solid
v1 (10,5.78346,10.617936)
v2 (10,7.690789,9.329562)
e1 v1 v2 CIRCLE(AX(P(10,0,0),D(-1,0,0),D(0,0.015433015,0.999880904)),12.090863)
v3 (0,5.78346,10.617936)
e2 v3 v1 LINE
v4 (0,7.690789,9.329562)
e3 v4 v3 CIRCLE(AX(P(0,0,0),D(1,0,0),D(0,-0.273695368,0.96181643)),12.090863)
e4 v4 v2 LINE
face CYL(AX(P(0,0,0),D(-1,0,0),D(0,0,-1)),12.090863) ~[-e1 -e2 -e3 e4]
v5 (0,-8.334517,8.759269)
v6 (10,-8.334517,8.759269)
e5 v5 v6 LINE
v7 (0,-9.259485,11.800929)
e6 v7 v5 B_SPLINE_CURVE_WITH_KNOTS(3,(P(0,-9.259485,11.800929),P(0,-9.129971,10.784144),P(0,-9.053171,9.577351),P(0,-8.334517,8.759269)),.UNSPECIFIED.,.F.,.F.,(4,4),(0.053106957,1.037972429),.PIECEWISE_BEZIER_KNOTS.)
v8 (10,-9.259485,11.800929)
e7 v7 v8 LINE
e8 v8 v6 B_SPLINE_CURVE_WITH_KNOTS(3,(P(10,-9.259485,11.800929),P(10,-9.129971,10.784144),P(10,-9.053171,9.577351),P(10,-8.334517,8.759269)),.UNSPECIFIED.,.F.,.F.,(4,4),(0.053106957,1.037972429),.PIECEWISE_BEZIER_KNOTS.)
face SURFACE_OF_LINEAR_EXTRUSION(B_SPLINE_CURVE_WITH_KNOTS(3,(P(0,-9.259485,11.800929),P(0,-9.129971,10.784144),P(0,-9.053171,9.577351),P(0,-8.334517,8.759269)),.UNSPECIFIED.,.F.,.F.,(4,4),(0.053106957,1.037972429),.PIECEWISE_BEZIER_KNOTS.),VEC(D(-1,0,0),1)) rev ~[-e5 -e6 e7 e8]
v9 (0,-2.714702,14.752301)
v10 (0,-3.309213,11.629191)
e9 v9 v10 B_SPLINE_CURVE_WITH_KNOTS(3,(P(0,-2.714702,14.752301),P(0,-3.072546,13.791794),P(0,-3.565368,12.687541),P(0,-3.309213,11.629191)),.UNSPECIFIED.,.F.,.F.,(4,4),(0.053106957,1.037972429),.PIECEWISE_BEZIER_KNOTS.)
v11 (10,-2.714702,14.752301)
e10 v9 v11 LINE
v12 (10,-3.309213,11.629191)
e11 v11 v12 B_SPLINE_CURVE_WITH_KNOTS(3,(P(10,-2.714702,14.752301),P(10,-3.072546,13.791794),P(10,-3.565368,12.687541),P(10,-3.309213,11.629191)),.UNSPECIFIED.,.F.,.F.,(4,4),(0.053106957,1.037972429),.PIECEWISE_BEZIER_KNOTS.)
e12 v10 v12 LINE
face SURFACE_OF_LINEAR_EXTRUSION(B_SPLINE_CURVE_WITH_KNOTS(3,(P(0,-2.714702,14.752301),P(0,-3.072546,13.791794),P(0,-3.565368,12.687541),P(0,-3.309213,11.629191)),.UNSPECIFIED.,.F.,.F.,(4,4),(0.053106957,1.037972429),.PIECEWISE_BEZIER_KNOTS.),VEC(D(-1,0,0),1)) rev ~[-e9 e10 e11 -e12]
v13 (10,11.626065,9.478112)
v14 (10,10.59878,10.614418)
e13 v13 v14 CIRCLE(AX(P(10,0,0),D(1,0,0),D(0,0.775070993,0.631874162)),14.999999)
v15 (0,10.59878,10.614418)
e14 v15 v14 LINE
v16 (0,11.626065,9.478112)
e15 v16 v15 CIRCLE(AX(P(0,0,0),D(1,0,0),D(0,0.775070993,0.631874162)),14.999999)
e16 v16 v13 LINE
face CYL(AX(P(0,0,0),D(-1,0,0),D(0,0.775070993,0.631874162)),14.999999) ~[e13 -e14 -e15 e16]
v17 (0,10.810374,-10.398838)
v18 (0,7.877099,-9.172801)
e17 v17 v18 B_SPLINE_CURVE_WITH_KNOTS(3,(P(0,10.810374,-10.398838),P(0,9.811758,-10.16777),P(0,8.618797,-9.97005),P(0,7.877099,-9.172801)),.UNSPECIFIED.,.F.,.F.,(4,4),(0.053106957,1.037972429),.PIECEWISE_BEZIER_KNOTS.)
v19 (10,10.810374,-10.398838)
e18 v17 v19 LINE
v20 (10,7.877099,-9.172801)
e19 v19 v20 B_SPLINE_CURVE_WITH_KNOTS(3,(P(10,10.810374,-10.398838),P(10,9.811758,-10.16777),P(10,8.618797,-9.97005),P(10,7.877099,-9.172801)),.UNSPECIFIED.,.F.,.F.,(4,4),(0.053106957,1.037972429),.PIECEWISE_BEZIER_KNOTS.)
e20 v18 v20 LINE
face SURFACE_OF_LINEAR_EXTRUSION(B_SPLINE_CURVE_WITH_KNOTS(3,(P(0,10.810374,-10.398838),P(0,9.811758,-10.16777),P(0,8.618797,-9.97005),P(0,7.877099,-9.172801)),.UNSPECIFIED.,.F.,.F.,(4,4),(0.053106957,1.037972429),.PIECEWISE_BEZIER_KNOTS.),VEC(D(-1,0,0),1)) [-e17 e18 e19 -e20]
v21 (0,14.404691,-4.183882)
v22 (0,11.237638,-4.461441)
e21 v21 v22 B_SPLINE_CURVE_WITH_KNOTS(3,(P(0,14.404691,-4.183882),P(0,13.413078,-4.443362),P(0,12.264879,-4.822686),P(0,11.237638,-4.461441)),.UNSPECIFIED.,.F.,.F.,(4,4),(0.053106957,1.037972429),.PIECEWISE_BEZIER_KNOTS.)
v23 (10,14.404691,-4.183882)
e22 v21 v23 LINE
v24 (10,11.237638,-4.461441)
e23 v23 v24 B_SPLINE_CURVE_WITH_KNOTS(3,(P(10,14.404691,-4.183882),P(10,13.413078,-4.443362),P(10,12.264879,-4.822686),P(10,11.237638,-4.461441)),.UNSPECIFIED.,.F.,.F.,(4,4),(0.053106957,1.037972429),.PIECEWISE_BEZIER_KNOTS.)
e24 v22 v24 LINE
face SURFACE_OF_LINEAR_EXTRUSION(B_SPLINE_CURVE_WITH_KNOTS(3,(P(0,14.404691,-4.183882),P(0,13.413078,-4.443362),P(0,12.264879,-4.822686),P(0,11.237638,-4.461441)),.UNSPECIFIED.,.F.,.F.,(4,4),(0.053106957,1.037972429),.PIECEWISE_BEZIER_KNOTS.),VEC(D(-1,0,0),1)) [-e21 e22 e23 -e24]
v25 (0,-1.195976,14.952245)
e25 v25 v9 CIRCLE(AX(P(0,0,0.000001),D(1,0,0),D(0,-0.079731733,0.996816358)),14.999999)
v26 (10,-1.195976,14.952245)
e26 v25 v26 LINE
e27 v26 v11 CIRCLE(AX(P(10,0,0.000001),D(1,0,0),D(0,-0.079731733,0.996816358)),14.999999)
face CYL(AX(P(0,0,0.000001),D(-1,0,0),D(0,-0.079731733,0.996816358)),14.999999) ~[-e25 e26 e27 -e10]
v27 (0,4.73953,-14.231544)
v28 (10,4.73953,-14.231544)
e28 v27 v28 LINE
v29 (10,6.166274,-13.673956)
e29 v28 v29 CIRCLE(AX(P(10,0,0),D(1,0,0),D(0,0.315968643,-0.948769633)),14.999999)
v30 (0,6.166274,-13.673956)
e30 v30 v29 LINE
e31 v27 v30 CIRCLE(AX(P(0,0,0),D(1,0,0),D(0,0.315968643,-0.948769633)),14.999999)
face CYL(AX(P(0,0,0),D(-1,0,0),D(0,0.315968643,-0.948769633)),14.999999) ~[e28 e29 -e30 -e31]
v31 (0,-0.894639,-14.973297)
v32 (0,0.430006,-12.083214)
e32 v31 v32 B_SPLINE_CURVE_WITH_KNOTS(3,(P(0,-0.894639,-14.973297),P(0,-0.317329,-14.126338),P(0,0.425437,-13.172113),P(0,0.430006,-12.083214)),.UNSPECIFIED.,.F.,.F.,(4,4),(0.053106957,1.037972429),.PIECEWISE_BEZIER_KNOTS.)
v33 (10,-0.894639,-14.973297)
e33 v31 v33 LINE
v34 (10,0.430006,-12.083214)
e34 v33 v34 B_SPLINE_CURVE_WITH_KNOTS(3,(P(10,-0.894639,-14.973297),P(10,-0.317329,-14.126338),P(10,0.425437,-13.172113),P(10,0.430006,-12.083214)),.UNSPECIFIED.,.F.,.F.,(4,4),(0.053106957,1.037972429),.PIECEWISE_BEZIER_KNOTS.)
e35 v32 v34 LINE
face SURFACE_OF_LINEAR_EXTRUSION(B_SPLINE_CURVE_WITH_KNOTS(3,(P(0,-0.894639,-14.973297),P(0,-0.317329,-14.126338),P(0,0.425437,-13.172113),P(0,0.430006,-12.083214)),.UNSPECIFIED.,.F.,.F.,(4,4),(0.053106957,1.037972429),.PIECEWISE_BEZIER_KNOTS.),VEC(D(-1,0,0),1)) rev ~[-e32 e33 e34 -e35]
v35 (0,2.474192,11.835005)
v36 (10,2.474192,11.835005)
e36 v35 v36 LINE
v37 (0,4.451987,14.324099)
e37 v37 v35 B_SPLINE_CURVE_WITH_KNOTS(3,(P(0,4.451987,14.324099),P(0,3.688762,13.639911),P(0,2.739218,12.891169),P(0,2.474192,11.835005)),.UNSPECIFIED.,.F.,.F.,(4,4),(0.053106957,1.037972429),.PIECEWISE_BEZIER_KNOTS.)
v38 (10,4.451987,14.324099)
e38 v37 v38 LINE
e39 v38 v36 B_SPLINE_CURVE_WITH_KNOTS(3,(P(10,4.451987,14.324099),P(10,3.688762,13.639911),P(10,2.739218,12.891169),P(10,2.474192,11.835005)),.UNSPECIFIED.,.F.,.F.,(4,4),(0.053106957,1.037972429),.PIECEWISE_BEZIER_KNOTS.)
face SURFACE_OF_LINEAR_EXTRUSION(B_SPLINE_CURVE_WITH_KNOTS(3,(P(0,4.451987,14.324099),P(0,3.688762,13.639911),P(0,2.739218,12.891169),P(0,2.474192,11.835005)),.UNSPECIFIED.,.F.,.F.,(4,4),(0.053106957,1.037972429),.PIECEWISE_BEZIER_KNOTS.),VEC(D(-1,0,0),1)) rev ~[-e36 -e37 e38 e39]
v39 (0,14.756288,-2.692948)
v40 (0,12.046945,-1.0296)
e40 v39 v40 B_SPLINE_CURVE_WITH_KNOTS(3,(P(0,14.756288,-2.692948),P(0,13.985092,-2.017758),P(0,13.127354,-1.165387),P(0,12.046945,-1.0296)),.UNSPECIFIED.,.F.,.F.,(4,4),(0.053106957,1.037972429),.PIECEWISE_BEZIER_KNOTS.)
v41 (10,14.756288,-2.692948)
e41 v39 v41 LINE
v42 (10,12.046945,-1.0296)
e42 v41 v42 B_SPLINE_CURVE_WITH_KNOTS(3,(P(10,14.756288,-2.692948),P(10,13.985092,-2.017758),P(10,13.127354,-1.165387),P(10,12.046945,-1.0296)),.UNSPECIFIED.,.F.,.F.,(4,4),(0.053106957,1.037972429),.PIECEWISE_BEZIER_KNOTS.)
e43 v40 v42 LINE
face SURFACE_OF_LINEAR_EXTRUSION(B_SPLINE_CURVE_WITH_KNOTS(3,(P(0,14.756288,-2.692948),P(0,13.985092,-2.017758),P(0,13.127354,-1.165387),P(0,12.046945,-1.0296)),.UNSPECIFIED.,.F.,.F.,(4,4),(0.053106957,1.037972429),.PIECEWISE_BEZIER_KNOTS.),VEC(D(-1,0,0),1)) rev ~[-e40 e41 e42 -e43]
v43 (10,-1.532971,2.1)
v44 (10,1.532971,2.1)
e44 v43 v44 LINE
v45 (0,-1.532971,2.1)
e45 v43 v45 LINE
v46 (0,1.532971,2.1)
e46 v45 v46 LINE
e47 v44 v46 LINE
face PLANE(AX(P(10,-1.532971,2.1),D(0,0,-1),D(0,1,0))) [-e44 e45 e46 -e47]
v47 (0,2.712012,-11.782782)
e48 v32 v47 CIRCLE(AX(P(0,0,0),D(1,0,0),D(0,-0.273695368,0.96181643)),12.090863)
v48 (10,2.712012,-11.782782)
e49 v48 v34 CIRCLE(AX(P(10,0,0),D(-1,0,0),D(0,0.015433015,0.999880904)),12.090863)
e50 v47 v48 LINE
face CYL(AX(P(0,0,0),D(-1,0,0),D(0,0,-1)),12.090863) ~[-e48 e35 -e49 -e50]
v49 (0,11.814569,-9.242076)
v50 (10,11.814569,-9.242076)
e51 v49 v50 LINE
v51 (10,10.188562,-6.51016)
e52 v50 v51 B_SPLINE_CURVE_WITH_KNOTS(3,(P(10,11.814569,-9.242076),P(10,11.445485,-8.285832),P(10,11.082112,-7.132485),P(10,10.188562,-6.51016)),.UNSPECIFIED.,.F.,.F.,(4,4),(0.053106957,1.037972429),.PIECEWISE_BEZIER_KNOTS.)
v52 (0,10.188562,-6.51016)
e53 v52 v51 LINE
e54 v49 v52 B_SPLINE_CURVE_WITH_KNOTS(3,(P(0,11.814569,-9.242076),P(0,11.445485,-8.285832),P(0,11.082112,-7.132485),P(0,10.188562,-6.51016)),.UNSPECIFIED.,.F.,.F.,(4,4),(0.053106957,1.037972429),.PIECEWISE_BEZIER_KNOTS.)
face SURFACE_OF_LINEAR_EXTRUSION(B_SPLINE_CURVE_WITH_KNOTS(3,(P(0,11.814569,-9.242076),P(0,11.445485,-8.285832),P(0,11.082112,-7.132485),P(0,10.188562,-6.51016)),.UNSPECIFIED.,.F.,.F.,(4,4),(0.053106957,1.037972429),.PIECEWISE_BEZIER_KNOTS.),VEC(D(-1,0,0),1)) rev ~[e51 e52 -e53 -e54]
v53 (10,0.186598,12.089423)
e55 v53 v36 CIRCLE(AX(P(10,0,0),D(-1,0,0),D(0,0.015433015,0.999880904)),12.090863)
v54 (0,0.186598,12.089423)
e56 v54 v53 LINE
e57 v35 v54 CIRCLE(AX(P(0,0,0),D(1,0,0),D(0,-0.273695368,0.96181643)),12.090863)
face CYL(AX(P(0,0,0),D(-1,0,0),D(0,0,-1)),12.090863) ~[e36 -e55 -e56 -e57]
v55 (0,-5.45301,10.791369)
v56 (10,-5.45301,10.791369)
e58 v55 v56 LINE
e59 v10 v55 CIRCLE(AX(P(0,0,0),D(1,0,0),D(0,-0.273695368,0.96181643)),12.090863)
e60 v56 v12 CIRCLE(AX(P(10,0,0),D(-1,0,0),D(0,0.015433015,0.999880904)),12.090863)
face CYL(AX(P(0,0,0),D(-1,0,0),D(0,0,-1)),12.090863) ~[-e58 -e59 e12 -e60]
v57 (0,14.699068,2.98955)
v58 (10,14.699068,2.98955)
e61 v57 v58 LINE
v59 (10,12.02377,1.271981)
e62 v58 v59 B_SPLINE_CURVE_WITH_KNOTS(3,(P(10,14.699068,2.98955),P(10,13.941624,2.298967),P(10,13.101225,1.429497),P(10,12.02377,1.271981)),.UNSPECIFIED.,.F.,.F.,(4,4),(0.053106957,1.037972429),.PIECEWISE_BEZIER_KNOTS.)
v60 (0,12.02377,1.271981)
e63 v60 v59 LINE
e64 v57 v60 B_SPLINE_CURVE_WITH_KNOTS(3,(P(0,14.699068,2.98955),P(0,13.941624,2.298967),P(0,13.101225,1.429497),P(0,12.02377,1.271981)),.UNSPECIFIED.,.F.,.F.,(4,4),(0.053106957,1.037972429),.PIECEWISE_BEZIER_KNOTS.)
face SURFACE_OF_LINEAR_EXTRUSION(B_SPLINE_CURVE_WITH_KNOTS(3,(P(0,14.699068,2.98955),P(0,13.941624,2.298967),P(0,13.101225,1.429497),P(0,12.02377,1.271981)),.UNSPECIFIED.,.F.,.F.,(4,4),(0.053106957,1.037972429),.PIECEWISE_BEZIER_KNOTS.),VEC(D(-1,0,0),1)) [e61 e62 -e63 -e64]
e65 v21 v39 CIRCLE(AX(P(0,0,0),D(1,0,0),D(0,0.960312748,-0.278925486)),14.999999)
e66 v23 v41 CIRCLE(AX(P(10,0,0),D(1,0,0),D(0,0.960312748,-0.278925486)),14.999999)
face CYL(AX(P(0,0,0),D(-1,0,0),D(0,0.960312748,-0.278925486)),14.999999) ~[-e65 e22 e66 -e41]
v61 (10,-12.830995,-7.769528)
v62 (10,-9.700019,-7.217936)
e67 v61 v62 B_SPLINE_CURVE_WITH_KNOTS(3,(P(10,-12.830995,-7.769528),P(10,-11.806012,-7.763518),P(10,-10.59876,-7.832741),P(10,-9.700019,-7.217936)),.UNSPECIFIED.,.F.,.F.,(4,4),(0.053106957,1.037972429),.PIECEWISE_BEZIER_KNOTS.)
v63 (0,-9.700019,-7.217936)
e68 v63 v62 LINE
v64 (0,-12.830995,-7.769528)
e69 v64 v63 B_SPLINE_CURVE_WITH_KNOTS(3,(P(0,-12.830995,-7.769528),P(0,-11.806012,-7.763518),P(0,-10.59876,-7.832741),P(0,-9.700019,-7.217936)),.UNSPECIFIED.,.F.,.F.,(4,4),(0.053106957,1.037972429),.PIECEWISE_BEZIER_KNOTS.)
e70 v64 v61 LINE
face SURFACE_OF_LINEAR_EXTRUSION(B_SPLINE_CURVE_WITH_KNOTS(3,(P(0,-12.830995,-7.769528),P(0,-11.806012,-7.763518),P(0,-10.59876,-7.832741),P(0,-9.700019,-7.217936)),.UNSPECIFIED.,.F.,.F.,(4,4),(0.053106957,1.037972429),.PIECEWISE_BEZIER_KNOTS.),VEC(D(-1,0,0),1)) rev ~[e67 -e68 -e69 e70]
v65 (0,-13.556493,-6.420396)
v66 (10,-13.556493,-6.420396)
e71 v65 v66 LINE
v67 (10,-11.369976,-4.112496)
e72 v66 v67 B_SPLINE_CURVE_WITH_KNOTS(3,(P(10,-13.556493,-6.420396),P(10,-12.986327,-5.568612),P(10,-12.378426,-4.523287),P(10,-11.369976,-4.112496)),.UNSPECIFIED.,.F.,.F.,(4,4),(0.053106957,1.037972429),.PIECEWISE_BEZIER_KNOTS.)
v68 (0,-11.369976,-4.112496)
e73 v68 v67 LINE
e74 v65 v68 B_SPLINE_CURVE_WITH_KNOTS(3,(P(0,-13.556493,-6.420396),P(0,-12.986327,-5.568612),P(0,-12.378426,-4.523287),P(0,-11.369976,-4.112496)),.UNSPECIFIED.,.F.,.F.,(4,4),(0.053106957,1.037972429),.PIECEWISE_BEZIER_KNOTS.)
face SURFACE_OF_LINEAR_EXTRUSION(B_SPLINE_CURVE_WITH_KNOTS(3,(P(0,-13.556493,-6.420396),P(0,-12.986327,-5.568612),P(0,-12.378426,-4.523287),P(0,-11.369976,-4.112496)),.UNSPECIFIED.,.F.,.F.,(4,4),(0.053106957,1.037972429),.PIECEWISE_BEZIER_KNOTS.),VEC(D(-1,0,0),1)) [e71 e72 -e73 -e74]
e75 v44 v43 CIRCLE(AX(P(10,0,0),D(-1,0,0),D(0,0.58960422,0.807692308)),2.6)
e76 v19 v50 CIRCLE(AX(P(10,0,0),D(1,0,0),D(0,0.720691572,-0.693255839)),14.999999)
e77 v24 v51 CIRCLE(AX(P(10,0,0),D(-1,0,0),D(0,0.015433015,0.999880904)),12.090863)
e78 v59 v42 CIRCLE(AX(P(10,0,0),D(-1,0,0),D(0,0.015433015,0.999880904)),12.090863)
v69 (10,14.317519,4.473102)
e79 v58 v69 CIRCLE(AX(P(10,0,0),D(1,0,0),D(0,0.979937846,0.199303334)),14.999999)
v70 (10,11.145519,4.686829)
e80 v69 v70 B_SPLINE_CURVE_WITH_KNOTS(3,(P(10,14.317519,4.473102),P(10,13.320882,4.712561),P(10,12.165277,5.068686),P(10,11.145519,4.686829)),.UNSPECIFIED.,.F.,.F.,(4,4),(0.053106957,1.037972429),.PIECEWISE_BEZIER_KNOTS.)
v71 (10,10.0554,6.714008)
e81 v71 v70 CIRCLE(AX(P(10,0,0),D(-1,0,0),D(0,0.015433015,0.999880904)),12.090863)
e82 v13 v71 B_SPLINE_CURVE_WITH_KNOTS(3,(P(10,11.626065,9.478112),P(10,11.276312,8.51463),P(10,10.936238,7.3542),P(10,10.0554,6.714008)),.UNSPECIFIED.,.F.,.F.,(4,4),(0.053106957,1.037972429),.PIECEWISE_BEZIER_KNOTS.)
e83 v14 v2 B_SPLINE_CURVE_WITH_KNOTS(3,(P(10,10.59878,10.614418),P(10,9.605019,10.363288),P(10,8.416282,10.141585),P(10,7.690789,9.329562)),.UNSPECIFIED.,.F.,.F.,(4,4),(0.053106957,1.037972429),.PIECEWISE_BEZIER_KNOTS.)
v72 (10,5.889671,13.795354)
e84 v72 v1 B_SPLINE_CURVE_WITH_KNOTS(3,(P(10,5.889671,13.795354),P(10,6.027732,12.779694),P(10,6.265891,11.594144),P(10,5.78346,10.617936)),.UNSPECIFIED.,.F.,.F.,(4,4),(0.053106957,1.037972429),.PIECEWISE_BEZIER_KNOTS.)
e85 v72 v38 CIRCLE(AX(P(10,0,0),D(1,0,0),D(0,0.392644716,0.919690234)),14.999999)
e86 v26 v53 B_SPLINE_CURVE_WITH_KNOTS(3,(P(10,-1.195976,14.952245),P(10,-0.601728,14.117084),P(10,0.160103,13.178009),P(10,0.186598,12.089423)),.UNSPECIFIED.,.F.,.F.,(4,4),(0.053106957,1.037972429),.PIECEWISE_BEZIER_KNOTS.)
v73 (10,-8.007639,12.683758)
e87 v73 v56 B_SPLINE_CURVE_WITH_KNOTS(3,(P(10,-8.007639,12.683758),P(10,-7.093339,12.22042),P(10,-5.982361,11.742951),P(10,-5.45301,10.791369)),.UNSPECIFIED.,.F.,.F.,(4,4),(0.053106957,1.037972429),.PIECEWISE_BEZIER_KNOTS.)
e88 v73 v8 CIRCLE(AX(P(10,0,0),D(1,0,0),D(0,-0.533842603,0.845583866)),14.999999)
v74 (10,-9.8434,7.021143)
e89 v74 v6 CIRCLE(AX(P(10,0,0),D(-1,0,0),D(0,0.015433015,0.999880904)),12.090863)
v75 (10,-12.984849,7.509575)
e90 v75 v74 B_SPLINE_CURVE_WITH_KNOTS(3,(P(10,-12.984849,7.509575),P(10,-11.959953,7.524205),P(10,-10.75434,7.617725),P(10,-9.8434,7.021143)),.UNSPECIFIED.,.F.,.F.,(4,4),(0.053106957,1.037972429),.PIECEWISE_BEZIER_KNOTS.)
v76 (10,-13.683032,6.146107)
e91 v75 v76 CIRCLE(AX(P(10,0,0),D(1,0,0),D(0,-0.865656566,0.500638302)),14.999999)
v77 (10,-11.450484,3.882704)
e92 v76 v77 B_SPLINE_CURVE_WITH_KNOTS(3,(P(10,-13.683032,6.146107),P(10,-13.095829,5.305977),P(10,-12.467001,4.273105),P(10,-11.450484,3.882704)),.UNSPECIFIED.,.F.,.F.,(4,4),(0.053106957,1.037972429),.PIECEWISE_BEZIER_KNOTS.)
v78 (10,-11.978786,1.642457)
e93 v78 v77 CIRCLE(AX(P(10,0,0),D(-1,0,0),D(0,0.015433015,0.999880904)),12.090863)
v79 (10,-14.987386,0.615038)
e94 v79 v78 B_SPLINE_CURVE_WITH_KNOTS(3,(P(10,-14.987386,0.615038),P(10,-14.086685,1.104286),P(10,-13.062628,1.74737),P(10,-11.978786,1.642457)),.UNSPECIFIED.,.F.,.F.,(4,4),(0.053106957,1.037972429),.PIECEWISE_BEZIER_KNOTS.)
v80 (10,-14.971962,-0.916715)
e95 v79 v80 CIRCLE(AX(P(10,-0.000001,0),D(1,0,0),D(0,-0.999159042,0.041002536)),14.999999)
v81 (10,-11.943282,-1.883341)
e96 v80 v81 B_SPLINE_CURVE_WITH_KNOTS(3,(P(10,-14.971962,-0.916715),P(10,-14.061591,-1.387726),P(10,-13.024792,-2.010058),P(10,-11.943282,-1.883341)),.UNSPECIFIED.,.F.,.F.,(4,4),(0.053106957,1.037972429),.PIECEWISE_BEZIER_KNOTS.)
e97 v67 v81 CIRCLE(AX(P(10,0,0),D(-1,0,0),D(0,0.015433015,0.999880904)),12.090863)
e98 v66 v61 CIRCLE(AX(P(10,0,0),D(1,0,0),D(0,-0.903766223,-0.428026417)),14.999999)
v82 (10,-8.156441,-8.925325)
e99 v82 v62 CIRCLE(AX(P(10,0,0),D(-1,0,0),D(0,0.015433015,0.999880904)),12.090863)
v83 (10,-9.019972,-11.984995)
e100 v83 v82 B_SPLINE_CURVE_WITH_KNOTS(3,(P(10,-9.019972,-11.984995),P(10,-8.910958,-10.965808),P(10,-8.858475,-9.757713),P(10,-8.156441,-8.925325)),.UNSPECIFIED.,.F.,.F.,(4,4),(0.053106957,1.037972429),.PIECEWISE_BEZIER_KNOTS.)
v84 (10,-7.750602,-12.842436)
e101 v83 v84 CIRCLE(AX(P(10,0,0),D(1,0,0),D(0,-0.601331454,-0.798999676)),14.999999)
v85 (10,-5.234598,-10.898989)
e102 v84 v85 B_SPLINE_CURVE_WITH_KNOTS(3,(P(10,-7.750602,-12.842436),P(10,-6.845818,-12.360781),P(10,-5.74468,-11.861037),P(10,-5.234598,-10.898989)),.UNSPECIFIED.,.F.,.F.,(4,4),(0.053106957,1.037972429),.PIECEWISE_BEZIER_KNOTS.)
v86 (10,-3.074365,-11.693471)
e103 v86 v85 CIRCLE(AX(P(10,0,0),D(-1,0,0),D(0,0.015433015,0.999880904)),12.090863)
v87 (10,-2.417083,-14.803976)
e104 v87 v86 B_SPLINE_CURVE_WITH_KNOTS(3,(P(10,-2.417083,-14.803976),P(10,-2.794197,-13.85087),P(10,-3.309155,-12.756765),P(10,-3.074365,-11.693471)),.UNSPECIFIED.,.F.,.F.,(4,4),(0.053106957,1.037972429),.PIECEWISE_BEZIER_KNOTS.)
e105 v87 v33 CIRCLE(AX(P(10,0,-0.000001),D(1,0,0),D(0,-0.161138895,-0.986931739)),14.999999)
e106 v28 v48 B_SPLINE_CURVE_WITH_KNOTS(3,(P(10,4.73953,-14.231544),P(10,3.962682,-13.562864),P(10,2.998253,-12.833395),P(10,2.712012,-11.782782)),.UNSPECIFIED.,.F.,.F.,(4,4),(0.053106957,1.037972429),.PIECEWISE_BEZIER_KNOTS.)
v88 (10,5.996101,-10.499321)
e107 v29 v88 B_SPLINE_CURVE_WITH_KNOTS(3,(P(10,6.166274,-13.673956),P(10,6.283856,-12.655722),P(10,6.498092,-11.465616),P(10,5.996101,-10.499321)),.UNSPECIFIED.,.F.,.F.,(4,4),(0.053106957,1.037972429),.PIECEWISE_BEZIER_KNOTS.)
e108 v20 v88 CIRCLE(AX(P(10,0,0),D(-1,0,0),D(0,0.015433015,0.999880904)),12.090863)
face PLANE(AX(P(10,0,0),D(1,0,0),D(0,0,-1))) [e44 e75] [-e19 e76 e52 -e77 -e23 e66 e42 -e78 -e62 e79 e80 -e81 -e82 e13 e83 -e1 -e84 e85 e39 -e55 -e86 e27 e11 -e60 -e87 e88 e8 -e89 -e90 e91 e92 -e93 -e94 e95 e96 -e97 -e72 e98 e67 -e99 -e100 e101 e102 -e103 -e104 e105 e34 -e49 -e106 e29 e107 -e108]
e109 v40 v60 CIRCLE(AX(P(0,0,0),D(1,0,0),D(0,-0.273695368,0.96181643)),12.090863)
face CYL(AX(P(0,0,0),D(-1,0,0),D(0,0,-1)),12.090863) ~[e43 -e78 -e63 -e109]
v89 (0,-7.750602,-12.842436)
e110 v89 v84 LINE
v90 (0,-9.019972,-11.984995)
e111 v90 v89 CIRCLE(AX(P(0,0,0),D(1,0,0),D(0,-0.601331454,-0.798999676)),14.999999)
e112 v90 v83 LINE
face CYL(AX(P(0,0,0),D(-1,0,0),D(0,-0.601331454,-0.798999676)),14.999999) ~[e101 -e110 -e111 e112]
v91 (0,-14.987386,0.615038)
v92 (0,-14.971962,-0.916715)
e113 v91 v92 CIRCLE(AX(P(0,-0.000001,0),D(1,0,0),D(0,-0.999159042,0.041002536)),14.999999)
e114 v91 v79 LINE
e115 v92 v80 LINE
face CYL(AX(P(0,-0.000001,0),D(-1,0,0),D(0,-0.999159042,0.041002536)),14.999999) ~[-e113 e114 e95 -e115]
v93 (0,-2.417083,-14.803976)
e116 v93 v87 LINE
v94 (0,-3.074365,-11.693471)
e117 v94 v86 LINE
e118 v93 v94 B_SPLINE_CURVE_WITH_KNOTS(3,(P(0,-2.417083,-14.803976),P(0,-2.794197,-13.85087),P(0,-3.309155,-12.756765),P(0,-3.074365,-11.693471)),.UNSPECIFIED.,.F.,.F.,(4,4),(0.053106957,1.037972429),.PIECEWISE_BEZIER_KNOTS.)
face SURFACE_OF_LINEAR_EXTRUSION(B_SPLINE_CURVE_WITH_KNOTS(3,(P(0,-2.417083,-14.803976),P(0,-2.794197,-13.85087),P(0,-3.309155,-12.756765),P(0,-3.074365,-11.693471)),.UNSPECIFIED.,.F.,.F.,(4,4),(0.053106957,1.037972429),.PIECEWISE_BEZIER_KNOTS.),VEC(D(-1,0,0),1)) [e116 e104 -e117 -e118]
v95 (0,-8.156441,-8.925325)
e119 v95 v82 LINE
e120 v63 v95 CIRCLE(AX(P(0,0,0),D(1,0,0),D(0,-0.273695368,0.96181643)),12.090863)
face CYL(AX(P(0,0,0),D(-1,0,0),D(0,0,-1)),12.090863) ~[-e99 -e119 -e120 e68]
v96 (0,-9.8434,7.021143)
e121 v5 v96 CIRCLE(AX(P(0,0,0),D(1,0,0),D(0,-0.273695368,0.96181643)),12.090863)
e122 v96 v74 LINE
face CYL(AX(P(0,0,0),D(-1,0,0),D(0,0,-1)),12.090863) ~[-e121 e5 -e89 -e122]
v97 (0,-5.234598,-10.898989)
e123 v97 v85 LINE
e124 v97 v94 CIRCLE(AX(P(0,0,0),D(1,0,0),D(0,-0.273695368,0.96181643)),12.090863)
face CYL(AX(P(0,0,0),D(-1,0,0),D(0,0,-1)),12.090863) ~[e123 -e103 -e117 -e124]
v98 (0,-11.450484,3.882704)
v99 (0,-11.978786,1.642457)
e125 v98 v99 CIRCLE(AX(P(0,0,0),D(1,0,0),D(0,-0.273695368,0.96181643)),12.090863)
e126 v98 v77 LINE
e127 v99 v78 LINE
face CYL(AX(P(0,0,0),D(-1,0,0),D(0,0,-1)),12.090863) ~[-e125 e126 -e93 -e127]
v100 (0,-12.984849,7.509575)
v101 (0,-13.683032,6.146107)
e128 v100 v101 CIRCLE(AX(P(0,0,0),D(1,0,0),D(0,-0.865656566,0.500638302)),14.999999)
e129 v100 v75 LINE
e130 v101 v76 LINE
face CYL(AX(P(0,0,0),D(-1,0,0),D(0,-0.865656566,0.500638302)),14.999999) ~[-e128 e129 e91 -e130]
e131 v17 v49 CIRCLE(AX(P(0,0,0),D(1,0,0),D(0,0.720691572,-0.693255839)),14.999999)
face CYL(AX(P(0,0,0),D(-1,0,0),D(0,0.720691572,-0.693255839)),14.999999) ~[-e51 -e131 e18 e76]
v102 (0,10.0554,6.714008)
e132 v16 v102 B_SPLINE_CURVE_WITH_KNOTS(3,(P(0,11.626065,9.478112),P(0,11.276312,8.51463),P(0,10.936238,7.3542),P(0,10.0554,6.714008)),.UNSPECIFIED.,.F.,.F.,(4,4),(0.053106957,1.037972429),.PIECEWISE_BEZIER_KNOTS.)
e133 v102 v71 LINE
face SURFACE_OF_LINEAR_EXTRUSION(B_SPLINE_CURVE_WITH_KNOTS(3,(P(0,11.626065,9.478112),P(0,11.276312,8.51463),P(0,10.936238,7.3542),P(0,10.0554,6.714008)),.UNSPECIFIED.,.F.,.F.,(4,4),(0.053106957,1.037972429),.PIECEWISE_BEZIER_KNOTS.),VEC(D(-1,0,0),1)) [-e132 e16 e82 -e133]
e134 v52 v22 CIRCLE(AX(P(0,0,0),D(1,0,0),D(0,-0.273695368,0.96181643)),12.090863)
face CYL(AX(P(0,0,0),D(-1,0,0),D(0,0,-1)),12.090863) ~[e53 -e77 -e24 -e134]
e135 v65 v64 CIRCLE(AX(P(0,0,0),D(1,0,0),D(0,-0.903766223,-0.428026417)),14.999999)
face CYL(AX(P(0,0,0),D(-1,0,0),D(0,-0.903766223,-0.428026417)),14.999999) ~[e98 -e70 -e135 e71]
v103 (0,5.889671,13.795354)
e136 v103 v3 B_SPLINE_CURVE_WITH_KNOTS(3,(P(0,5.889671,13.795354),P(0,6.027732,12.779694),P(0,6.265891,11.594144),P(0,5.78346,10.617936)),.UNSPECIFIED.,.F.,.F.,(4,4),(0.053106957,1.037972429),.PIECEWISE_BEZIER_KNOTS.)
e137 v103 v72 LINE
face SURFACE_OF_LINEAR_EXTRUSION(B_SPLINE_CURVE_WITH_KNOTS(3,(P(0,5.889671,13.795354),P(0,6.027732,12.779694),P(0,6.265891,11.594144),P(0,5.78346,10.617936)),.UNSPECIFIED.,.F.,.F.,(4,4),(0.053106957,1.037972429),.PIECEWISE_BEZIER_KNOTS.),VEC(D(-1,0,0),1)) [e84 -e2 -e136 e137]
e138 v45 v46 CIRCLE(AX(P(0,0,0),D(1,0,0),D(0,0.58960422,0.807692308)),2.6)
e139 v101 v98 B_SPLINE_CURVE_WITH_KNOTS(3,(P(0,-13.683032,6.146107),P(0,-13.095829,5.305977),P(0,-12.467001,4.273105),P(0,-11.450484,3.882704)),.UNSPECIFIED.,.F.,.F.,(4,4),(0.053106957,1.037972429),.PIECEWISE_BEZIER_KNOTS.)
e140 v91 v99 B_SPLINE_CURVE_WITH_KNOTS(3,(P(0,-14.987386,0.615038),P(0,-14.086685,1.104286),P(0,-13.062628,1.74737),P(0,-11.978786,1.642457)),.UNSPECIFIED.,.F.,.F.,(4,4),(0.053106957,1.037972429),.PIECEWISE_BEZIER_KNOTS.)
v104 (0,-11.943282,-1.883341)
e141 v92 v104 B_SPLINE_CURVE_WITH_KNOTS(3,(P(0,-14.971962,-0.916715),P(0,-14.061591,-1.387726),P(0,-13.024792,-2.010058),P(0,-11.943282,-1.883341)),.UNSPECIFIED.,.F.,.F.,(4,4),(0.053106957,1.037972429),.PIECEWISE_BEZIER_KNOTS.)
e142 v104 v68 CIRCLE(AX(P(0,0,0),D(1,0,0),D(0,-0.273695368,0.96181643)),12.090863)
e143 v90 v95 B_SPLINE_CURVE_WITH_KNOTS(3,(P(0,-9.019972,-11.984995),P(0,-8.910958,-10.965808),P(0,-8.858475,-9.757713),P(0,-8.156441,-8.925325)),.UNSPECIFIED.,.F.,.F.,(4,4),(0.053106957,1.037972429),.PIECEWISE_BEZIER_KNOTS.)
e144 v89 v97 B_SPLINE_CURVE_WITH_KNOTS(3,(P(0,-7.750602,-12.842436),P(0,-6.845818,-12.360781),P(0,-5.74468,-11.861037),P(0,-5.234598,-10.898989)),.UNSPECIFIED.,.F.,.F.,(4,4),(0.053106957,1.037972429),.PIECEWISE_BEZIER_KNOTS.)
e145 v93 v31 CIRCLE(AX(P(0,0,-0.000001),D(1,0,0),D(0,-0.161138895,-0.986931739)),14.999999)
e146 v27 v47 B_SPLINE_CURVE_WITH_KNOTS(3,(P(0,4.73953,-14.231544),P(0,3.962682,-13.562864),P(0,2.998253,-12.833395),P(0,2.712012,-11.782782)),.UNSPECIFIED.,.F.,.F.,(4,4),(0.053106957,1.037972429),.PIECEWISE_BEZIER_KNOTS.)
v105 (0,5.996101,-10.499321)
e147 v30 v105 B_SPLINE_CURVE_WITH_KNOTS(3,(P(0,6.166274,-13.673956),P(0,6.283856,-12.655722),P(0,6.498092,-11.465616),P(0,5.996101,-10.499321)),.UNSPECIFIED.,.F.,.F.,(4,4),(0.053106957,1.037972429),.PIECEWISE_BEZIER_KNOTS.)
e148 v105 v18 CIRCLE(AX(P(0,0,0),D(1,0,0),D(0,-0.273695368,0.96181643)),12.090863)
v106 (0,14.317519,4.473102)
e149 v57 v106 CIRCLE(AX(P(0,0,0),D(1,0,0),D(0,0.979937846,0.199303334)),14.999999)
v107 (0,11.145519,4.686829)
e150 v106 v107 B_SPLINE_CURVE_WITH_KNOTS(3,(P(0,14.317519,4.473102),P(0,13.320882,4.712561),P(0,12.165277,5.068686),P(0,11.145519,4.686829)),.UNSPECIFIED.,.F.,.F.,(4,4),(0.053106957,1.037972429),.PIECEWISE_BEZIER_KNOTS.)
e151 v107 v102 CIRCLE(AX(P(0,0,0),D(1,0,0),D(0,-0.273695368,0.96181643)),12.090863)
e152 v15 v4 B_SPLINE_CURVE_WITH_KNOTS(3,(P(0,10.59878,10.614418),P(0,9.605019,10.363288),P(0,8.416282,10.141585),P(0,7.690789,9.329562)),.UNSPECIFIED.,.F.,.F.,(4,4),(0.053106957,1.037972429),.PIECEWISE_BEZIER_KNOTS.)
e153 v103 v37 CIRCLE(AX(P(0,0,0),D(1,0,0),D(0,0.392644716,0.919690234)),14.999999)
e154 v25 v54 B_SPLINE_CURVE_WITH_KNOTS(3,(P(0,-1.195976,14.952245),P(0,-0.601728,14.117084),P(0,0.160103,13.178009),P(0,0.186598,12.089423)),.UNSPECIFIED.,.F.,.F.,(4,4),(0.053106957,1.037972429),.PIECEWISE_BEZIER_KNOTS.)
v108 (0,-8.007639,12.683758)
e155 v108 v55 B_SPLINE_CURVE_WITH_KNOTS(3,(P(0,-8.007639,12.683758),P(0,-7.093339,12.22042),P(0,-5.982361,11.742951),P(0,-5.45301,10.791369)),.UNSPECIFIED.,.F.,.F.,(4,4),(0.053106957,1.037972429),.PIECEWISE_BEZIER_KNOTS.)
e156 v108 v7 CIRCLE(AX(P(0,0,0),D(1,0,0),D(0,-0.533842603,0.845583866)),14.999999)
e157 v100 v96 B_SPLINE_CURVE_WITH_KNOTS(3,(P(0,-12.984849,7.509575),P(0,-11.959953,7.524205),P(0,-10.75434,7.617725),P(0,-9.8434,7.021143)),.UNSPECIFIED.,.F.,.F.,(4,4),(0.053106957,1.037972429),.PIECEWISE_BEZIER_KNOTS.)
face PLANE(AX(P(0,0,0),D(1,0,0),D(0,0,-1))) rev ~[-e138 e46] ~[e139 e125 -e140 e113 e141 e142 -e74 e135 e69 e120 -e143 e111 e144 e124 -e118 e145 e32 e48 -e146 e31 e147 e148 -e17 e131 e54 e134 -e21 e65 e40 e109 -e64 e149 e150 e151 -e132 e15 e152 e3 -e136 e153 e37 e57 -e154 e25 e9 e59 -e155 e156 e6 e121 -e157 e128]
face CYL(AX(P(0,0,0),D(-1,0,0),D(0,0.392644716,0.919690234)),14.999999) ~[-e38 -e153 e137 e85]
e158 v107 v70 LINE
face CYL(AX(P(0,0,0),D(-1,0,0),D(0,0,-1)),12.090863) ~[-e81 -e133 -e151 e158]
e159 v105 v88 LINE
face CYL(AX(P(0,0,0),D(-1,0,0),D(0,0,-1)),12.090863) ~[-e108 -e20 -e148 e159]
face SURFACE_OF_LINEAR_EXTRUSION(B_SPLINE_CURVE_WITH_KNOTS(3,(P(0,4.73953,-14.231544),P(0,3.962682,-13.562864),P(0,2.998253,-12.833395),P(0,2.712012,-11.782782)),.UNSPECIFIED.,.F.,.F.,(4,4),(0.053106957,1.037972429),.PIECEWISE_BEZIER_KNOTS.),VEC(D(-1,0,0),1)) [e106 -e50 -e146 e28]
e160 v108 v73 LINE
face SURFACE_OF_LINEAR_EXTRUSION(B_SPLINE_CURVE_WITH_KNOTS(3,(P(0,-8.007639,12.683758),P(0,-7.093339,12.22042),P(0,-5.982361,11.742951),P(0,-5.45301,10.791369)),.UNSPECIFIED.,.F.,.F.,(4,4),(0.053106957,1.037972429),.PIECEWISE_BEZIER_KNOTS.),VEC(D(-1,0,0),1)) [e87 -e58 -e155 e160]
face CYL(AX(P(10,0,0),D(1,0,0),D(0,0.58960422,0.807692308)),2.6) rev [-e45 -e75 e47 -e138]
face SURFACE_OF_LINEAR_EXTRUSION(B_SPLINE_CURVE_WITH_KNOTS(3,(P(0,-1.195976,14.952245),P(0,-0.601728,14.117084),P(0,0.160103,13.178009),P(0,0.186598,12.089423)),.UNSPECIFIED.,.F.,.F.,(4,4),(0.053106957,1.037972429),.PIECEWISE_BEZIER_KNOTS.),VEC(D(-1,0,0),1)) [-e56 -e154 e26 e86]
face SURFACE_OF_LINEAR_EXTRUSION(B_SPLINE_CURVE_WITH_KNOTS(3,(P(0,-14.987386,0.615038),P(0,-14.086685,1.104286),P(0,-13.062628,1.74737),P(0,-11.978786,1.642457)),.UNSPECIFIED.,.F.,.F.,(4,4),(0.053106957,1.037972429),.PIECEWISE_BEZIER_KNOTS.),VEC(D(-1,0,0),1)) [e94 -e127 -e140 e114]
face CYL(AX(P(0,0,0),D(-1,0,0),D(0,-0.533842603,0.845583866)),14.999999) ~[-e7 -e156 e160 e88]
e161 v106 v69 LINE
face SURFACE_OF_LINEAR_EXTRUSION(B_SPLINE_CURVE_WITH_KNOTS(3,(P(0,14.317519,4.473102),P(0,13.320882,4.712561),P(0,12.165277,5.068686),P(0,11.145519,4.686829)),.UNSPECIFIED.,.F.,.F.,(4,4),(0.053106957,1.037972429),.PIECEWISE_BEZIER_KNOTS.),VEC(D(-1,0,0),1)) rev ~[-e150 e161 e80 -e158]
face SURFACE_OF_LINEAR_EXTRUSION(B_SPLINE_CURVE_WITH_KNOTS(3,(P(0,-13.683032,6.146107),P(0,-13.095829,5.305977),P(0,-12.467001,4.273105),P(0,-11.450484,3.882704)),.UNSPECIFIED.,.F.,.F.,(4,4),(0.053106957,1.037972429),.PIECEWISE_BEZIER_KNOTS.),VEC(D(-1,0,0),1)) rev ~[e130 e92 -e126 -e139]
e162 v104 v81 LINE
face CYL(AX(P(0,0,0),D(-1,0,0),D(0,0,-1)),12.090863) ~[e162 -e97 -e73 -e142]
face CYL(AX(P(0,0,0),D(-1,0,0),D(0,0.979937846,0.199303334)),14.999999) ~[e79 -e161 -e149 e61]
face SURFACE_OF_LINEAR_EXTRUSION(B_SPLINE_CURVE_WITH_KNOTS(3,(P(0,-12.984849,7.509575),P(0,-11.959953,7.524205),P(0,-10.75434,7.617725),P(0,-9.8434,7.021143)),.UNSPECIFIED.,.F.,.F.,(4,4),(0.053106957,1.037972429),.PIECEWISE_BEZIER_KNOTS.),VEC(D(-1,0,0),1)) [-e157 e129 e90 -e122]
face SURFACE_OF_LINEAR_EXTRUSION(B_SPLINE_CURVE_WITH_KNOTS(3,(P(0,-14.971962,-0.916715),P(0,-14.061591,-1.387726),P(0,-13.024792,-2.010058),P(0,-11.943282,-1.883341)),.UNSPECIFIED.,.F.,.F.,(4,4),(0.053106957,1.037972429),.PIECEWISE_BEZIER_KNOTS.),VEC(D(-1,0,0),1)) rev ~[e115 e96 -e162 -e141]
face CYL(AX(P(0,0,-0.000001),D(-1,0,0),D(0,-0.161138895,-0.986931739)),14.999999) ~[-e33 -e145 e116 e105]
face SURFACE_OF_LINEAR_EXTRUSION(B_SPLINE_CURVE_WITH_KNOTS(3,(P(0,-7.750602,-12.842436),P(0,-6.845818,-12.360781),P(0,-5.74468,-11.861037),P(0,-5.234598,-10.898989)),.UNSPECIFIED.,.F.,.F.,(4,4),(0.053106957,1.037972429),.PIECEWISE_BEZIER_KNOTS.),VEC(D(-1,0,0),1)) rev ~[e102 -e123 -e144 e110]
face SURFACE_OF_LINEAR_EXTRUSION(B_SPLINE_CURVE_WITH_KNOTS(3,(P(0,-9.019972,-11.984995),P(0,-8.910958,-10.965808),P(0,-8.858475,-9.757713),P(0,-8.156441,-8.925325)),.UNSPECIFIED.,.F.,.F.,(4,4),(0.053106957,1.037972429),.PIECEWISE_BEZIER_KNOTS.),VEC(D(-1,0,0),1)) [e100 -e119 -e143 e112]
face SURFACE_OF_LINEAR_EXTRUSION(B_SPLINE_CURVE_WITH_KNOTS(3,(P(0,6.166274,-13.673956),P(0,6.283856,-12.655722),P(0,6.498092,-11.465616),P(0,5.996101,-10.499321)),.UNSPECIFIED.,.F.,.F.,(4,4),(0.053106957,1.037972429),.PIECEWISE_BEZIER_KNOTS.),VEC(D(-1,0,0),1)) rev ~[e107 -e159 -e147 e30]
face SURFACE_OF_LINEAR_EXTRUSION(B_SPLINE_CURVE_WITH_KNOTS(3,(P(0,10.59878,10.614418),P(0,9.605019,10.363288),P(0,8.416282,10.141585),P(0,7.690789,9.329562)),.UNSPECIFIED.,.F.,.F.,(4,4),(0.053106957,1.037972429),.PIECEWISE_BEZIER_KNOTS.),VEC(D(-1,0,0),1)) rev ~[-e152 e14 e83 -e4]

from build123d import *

# Parameters (mm, degrees)
SKETCH3_R           = 12.090863095
BOSS_EXTRUDE1_DEPTH = 10
BOSS_EXTRUDE2_DEPTH = 10
CIRPATTERN1_COUNT   = 13
CUT_EXTRUDE1_DEPTH  = 24.435008607


with BuildPart() as part:
    # Sketch3 → Boss-Extrude1 (new body)
    with BuildSketch(Plane.YZ):
        with Locations(Location((0, 0, 0), (0, 0, 270))):
            Circle(SKETCH3_R)
    extrude(amount=BOSS_EXTRUDE1_DEPTH)

    # Sketch4 → Boss-Extrude2 (add)
    with BuildSketch(Plane.YZ):
        with BuildLine():
            ThreePointArc((-1.195976025, 14.952245361), (-1.957892883, 14.871672921), (-2.714701737, 14.752301328))
            add(Edge.make_bspline(
                [(-2.714701737, 14.752301328), (-3.072545731, 13.791794486), (-3.565367762, 12.687541268), (-3.309213228, 11.62919078)],
                knots=[0.053106957, 0.053106957, 0.053106957, 0.053106957, 1.037972429, 1.037972429, 1.037972429, 1.037972429], degree=3))
            ThreePointArc((-3.309213228, 11.62919078), (-1.57817432, 11.987424085), (0.186598469, 12.089423121))
            add(Edge.make_bspline(
                [(-1.195976025, 14.952245361), (-0.601727805, 14.117083837), (0.160103486, 13.178008863), (0.186598469, 12.089423121)],
                knots=[0.053106957, 0.053106957, 0.053106957, 0.053106957, 1.037972429, 1.037972429, 1.037972429, 1.037972429], degree=3))
        make_face()
    boss_extrude2 = extrude(amount=BOSS_EXTRUDE2_DEPTH)

    # CirPattern1: Boss-Extrude2 ×13 about axis
    cirpattern1_axis = Axis((10, 0, 0), (1, 0, 0))
    for i in range(1, CIRPATTERN1_COUNT):
        add(boss_extrude2.rotate(cirpattern1_axis, i * 360 / CIRPATTERN1_COUNT))

    # Sketch5 → Cut-Extrude1 (cut, through all)
    with BuildSketch(Plane.YZ.offset(10)):
        with BuildLine():
            Line((-1.532970972, 2.1), (1.532970972, 2.1))
            ThreePointArc((1.532970972, 2.1), (0, -2.6), (-1.532970972, 2.1))
        make_face()
    extrude(amount=-CUT_EXTRUDE1_DEPTH, mode=Mode.SUBTRACT)


solid = part.part
